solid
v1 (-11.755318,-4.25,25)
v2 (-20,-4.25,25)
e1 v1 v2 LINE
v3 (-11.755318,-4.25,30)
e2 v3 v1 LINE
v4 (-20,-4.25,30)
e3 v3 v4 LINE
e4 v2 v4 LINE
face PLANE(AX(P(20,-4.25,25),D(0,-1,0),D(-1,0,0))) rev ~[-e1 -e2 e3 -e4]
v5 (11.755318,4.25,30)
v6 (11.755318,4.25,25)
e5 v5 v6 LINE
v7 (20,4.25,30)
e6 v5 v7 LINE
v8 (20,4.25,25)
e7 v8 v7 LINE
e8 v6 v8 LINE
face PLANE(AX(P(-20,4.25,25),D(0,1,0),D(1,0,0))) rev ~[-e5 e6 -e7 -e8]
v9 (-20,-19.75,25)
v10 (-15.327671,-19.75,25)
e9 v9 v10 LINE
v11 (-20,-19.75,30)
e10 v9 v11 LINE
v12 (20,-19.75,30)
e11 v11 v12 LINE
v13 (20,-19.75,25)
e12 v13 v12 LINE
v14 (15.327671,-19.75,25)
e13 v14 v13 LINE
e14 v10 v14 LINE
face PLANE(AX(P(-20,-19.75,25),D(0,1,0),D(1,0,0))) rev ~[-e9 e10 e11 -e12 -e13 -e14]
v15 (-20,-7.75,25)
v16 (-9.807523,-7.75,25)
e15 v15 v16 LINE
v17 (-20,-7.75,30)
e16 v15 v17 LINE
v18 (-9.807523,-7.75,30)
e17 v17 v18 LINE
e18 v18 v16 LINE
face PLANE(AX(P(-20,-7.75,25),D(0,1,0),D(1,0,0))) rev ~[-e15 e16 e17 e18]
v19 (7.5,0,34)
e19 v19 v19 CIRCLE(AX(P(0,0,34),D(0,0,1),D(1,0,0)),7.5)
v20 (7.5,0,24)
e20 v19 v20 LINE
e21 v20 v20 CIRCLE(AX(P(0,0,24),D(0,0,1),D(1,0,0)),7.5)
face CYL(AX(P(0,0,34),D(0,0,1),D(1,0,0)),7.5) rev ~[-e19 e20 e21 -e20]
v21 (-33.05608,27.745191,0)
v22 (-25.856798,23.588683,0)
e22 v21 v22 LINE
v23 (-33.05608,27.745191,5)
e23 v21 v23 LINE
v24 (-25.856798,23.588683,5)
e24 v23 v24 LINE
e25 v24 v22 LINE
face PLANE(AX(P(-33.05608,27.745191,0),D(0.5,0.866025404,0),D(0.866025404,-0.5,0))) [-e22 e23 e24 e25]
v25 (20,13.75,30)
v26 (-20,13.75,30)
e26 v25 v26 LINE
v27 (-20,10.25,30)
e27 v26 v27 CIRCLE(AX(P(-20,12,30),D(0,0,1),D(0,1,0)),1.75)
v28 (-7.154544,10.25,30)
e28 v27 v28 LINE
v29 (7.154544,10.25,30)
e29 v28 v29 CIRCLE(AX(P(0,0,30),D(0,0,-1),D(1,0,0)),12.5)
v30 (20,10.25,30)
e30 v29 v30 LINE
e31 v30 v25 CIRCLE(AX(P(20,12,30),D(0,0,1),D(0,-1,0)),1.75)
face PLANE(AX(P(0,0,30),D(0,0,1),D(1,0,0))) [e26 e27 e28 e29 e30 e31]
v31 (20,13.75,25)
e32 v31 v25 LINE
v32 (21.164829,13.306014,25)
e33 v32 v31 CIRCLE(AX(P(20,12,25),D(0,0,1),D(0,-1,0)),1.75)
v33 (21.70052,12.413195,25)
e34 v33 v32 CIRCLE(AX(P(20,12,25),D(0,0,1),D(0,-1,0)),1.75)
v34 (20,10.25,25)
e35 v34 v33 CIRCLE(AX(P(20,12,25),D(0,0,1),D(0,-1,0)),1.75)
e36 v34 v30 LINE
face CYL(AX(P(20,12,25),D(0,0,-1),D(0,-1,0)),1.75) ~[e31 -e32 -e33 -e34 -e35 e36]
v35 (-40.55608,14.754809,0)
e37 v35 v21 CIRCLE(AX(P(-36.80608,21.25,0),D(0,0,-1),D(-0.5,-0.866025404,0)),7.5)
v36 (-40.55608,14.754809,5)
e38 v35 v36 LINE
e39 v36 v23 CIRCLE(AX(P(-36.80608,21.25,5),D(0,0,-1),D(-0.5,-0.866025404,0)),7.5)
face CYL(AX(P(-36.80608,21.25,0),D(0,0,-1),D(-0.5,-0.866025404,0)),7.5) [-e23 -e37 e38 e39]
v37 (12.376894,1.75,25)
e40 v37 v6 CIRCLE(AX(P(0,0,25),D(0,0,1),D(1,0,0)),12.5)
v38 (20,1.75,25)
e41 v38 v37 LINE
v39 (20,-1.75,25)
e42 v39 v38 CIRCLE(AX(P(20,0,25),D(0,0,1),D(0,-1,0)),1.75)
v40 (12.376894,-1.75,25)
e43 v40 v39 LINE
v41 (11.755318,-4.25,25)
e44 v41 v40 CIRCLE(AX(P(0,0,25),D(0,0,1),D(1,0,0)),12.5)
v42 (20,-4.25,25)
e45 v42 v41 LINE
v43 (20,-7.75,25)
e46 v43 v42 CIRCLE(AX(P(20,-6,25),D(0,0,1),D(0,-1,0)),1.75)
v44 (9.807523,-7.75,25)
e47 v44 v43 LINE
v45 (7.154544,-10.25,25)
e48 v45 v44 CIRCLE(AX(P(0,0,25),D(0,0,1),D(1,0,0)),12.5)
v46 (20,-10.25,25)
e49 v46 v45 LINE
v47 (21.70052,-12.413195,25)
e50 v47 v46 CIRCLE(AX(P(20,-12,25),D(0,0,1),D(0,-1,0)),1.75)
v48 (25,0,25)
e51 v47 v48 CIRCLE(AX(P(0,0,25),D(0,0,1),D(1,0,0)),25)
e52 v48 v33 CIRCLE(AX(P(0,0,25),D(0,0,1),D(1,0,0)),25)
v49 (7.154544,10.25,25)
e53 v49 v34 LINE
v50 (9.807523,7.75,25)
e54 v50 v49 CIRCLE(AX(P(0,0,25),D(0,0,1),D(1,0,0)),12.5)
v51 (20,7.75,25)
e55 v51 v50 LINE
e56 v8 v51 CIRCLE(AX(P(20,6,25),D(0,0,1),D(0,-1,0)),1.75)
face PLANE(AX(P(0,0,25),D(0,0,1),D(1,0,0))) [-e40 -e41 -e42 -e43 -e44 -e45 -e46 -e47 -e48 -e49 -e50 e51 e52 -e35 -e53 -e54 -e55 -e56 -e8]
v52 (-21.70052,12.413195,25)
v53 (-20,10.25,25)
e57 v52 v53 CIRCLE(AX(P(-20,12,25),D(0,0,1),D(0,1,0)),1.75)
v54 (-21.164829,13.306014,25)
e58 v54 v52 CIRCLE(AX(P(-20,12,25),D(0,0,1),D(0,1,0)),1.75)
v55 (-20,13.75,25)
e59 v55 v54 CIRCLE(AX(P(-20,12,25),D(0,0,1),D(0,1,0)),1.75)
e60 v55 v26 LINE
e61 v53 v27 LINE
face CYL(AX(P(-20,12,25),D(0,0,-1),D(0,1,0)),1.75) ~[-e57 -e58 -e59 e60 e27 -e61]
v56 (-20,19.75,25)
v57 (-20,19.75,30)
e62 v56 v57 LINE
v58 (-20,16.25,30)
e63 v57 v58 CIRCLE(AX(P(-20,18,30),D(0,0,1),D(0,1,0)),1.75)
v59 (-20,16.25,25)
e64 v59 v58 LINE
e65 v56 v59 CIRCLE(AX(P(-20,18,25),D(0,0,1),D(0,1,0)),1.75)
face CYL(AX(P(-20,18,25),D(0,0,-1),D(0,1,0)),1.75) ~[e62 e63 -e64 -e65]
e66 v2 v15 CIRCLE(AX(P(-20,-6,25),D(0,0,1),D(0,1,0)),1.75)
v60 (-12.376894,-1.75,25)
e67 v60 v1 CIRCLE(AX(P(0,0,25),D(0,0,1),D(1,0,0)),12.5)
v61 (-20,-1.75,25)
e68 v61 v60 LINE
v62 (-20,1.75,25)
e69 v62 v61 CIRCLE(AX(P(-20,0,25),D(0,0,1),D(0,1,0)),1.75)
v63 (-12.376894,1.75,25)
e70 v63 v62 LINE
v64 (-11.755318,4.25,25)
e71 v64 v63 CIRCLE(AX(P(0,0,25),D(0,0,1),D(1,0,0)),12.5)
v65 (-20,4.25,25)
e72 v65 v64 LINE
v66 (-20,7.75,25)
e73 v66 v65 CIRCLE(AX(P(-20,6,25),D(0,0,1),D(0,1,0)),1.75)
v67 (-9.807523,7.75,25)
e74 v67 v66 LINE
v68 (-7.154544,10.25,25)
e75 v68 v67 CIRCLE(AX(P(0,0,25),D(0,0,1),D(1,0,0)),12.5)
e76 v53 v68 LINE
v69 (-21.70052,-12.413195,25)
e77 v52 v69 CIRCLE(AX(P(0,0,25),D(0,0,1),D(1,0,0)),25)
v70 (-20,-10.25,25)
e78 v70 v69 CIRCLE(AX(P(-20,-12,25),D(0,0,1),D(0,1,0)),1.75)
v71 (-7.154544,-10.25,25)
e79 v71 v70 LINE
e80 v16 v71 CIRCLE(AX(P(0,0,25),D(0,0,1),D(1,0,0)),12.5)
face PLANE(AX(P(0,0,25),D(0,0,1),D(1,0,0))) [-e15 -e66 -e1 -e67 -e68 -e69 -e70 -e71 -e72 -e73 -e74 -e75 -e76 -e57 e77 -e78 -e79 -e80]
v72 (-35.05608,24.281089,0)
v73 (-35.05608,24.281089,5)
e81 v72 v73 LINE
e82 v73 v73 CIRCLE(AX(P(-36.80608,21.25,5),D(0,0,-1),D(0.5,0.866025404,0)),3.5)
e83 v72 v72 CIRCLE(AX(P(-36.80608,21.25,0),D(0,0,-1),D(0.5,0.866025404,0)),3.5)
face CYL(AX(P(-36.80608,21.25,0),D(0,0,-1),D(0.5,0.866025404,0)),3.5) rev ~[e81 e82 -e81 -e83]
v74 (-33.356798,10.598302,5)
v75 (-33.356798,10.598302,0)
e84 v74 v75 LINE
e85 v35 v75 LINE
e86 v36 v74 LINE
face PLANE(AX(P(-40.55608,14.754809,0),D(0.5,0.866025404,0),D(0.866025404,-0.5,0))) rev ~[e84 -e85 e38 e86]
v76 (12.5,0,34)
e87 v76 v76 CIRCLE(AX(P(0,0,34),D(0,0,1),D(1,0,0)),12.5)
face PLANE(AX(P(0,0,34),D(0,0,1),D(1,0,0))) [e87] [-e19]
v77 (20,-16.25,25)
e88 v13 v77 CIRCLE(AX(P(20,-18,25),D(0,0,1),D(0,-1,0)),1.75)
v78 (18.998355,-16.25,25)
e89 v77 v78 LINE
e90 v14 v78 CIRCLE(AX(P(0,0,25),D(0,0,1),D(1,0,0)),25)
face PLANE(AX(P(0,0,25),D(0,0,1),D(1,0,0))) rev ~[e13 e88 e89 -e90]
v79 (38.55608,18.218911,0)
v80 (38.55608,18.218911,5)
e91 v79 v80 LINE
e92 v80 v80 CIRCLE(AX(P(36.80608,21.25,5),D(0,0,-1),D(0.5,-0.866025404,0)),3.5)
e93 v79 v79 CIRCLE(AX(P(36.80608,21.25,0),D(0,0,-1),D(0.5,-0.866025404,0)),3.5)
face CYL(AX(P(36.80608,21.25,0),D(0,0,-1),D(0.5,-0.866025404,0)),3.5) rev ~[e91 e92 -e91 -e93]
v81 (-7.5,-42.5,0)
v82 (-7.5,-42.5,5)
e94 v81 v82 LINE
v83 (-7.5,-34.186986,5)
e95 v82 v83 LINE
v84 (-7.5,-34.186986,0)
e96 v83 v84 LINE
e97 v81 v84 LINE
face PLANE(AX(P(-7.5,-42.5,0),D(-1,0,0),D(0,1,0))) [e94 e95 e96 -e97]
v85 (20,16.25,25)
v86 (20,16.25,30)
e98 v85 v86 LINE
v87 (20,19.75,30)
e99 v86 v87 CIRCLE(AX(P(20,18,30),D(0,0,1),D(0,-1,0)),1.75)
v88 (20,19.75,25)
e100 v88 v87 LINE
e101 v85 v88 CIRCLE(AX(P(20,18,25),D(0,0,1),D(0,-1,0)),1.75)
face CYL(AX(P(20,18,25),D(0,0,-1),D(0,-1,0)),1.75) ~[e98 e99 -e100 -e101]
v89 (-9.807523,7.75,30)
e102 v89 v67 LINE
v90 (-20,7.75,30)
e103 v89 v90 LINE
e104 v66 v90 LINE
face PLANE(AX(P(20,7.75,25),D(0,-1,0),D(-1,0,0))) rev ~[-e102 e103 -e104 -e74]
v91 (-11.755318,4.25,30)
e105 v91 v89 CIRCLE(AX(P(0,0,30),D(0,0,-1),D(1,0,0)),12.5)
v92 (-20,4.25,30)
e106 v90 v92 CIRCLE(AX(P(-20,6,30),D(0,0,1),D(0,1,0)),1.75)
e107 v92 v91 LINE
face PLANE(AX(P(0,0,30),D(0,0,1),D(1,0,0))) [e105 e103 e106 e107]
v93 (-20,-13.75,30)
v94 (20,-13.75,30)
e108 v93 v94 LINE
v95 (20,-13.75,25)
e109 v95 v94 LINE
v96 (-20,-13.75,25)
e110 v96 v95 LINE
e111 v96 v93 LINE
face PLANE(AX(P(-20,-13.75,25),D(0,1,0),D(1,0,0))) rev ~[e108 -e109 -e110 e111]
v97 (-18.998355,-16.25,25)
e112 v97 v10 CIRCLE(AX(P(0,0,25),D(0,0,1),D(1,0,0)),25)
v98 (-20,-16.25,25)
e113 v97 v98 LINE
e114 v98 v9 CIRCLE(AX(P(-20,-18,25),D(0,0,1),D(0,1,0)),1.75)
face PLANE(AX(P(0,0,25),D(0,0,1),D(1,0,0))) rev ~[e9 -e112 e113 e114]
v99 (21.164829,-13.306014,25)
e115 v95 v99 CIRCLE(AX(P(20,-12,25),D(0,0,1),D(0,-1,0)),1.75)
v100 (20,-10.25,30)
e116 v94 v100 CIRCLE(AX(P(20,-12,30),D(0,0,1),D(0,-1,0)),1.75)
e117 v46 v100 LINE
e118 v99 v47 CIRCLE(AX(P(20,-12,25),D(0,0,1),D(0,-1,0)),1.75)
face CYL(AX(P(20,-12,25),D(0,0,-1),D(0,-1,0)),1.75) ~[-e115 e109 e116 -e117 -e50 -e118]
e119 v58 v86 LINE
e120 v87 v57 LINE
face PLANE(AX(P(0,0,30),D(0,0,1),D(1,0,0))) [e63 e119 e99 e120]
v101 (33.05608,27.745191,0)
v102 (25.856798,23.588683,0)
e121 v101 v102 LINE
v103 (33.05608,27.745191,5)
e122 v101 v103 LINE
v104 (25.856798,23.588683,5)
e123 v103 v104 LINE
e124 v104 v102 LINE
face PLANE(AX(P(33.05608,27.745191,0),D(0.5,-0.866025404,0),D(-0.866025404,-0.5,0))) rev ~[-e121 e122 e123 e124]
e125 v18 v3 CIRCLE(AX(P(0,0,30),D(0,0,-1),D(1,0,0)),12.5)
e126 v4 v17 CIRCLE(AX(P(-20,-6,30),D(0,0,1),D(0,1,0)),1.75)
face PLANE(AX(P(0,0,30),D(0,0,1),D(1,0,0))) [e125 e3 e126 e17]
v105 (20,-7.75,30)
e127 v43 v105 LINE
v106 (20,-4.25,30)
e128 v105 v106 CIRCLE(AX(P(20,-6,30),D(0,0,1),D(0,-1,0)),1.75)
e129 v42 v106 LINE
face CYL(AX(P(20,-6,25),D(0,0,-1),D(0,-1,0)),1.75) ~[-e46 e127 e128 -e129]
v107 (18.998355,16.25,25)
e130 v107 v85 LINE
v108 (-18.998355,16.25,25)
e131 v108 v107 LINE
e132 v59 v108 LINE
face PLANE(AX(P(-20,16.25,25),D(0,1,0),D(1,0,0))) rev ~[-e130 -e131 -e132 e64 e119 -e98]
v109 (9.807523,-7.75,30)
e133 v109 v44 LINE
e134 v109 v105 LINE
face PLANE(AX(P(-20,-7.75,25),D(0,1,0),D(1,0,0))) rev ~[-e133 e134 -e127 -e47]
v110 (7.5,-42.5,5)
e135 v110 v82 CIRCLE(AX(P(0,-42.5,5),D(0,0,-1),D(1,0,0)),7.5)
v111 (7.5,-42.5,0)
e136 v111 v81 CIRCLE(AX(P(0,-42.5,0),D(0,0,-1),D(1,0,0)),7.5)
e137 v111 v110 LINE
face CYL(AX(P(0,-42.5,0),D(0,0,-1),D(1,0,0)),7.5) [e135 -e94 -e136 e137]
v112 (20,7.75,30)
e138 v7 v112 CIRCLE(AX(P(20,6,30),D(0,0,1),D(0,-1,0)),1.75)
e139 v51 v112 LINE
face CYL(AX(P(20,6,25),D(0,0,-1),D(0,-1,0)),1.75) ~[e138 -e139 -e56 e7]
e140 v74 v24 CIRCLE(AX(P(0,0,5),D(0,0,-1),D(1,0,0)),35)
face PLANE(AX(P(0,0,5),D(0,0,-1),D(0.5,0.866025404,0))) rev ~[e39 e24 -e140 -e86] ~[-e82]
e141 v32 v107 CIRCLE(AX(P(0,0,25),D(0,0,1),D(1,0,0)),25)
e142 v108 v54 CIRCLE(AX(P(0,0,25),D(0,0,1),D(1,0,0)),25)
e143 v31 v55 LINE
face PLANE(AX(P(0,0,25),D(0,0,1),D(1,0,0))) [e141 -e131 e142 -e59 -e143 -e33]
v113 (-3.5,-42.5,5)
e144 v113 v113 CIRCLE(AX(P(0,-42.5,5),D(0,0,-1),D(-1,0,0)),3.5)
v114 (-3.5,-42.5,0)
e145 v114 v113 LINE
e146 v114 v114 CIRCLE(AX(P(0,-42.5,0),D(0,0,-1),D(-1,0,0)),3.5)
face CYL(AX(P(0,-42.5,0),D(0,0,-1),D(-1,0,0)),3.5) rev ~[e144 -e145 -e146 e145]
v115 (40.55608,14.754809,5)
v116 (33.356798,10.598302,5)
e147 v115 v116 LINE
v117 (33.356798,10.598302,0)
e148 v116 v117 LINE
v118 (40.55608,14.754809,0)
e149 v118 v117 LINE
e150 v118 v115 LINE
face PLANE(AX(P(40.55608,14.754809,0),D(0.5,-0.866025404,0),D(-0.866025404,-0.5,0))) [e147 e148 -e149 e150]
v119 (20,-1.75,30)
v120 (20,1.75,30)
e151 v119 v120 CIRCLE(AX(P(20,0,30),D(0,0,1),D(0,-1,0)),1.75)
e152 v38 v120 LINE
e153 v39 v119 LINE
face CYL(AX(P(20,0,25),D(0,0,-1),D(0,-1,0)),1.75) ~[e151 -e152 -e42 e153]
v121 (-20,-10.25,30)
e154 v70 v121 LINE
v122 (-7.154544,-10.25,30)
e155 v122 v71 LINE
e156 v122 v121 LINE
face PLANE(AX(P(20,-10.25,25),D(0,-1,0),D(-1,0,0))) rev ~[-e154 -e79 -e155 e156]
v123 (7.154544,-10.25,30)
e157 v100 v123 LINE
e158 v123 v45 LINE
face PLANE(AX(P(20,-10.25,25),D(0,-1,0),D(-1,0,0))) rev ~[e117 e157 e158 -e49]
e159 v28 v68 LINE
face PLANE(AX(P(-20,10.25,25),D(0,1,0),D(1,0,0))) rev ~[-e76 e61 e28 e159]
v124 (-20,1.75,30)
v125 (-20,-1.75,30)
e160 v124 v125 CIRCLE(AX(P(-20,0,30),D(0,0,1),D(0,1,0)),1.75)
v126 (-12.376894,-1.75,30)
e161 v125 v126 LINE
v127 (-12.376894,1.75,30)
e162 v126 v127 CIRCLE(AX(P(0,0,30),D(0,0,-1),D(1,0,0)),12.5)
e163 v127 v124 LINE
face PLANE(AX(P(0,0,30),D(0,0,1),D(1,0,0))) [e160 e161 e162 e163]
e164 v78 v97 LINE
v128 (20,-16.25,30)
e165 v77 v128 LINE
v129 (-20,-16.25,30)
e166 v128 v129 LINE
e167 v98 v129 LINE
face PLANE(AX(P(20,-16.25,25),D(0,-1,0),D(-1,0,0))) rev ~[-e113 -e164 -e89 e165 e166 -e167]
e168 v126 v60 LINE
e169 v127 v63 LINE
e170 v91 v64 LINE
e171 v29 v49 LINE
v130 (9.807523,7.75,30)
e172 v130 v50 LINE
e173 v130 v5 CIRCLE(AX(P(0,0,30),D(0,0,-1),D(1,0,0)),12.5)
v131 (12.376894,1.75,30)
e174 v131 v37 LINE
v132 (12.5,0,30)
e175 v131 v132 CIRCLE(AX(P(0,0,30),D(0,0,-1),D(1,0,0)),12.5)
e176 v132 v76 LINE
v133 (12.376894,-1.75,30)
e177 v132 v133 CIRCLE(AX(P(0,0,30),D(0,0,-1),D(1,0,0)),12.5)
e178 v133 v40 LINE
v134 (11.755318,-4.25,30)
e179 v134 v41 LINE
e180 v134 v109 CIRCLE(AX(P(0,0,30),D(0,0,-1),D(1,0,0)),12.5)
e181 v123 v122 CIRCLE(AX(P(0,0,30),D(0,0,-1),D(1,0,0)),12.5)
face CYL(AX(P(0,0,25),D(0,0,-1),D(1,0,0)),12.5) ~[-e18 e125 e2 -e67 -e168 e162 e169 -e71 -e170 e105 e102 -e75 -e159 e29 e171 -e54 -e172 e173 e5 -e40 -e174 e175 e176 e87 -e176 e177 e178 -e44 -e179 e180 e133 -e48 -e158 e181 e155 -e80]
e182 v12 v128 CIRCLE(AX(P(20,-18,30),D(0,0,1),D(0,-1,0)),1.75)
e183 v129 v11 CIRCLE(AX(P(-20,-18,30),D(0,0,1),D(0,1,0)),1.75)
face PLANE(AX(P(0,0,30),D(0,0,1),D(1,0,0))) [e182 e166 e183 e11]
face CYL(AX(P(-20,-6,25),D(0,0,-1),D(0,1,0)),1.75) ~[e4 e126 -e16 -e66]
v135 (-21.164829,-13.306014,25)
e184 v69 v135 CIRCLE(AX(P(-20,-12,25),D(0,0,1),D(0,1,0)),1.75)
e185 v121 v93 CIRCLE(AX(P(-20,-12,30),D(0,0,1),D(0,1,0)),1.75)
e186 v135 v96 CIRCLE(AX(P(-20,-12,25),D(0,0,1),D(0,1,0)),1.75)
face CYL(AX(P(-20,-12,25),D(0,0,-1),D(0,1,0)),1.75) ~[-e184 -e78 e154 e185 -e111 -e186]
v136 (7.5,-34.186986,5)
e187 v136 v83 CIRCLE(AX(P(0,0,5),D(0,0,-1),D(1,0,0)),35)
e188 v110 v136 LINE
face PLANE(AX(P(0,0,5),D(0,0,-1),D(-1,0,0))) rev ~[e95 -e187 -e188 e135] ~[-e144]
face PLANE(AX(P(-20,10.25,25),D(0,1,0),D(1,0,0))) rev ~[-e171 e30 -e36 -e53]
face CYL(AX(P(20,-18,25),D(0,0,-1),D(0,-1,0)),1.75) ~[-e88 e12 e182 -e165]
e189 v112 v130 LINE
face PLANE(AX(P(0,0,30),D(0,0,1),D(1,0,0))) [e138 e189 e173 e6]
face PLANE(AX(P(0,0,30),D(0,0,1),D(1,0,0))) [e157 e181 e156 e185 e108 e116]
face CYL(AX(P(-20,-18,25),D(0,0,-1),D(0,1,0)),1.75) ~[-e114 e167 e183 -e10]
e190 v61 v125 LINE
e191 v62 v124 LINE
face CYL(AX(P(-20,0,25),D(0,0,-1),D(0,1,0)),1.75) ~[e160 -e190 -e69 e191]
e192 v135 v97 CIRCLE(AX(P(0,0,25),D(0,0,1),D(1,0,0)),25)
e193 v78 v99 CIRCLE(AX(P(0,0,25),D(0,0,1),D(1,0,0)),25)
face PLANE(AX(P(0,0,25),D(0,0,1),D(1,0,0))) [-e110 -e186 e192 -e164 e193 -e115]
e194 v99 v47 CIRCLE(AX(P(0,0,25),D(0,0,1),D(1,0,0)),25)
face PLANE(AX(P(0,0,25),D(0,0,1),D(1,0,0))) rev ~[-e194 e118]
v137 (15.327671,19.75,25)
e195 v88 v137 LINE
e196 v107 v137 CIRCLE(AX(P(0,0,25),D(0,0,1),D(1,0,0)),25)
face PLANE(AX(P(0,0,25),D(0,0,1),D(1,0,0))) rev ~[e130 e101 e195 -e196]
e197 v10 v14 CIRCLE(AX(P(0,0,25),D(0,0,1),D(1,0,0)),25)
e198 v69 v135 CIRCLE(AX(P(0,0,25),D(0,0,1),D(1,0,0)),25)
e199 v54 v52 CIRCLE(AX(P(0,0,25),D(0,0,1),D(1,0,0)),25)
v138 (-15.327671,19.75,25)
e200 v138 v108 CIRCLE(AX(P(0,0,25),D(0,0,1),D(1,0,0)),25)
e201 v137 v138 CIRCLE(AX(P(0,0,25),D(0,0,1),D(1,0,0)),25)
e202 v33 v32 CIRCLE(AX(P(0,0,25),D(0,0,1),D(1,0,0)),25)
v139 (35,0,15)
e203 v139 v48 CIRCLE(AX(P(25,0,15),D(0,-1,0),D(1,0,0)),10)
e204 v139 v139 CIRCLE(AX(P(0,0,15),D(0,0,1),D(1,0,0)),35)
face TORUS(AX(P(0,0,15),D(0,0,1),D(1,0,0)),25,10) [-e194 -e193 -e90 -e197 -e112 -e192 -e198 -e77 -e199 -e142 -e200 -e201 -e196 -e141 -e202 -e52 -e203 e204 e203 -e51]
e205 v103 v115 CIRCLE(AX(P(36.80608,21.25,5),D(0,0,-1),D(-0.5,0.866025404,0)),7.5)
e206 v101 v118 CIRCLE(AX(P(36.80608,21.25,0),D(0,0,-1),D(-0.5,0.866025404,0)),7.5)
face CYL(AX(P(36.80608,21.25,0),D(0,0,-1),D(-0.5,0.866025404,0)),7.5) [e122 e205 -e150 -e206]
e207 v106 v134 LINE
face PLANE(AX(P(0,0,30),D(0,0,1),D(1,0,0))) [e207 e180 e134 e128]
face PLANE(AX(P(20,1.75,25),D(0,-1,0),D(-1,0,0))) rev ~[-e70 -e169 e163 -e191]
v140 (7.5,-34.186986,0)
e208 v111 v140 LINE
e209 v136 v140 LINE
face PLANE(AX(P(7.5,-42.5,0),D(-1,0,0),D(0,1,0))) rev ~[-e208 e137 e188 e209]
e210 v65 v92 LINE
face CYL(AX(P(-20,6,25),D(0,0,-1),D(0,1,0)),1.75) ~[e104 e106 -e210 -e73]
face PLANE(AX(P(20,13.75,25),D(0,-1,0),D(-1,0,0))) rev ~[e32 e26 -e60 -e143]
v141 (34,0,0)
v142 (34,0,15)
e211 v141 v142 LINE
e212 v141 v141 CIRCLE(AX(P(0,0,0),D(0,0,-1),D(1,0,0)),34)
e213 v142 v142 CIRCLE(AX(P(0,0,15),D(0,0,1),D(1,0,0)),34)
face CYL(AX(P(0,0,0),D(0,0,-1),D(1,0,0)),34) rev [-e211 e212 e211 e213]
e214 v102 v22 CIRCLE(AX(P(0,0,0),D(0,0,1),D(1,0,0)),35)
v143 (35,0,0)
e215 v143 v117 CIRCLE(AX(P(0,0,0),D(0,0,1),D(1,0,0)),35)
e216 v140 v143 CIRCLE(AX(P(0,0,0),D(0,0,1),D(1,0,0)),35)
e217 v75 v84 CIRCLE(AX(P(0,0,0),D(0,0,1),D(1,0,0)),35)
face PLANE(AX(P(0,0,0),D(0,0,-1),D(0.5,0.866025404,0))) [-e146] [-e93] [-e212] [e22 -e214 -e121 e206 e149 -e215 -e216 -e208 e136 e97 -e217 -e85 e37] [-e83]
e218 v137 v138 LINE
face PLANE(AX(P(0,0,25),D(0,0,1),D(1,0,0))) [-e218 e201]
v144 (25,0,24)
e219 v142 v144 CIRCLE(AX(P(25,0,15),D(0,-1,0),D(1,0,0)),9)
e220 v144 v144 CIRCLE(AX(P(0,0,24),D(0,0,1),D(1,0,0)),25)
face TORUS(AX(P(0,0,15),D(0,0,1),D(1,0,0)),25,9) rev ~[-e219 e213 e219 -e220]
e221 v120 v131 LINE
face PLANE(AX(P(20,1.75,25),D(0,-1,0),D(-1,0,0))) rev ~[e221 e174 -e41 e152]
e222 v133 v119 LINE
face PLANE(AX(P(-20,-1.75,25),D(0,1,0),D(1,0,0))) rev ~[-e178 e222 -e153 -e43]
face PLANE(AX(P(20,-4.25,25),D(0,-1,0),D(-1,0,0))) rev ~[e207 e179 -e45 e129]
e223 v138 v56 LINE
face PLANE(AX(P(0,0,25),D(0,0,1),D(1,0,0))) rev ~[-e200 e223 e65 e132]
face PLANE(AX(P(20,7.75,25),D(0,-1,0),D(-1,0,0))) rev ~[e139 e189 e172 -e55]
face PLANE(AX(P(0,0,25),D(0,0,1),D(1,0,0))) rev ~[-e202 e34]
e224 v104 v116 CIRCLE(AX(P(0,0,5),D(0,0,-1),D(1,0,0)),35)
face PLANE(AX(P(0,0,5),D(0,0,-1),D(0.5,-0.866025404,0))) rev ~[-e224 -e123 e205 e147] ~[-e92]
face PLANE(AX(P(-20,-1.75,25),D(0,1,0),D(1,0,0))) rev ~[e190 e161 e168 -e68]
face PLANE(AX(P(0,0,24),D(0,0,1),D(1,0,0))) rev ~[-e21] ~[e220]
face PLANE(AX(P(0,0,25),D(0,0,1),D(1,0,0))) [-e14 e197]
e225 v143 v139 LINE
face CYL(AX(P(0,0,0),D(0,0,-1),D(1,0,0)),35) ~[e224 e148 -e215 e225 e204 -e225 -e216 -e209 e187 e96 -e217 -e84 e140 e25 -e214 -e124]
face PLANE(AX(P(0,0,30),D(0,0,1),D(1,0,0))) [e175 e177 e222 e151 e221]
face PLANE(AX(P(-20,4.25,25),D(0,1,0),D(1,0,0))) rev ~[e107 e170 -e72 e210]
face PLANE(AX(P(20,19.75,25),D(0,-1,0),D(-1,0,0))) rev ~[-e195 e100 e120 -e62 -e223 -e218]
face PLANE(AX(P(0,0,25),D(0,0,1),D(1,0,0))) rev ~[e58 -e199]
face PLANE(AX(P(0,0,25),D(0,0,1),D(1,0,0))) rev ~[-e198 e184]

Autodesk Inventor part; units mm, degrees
ref_plane "YZ Plane" through (0, 0, 0) normal (1, 0, 0) x (0, 1, 0)
ref_plane "XZ Plane" through (0, 0, 0) normal (0, 1, 0) x (-1, 0, 0)
ref_plane "XY Plane" through (0, 0, 0) normal (0, 0, 1) x (1, 0, 0)
sketch "Sketch1" plane through (0, 0, 0) normal (0, 0, 1) x (1, 0, 0)
  circle A0 centre (0, 0) radius 35
  dimension "d0" = 70
extrude "Extrusion1" add sketch "Sketch1" along normal blind 25
fillet "Fillet1" radius 10 1 edges at (-35, 0, 25)
shell "Shell1" thickness 1 removed faces 1 at (-1.9985, 11.019, 0)
sketch "Sketch2" plane through (0, 0, 0) normal (0, 0, -1) x (-1, 0, 0)
  arc A0 (-7.5, -42.5) -> (7.5, -42.5) centre (0, -42.5) ccw
  circle A1 centre (0, -42.5) radius 3.5
  line L0 (7.5, -42.5) -> (7.5, -33.6234)
  line L1 (-7.5, -42.5) -> (-7.5, -33.7627)
  arc A2 (-7.5, -33.7627) -> (7.5, -33.7627) centre (0, -11.6498) ccw
  point P0 (0, 0)
  dimension "d5" = 15
  dimension "d6" = 7
  dimension "d7" = 42.5
extrude "Extrusion2" add sketch "Sketch2" against normal blind 5
pattern_circular "Circular Pattern1" count 3 over 360 about axis through (0, 0, 15) along (0, 0, 1) of "Extrusion2"
sketch "Sketch3" plane through (0, 0, 25) normal (0, 0, 1) x (1, 0, 0)
  line L0 (20, 18) -> (-20, 18) construction
  line L1 (20, 19.75) -> (-20, 19.75)
  line L2 (-20, 16.25) -> (20, 16.25)
  arc A0 (20, 16.25) -> (20, 19.75) centre (20, 18) ccw
  arc A1 (-20, 19.75) -> (-20, 16.25) centre (-20, 18) ccw
  line L3 (0, 42.0299) -> (0, -57.656) construction
  line L4 (20, 12) -> (-20, 12) construction
  line L5 (20, 13.75) -> (-20, 13.75)
  line L6 (-20, 10.25) -> (20, 10.25)
  arc A2 (20, 10.25) -> (20, 13.75) centre (20, 12) ccw
  arc A3 (-20, 13.75) -> (-20, 10.25) centre (-20, 12) ccw
  line L7 (20, 6) -> (-20, 6) construction
  line L8 (20, 7.75) -> (-20, 7.75)
  line L9 (-20, 4.25) -> (20, 4.25)
  arc A4 (20, 4.25) -> (20, 7.75) centre (20, 6) ccw
  arc A5 (-20, 7.75) -> (-20, 4.25) centre (-20, 6) ccw
  line L10 (20, 0) -> (-20, 0) construction
  line L11 (20, 1.75) -> (-20, 1.75)
  line L12 (-20, -1.75) -> (20, -1.75)
  arc A6 (20, -1.75) -> (20, 1.75) centre (20, 0) ccw
  arc A7 (-20, 1.75) -> (-20, -1.75) centre (-20, 0) ccw
  line L13 (20, -6) -> (-20, -6) construction
  line L14 (20, -4.25) -> (-20, -4.25)
  line L15 (-20, -7.75) -> (20, -7.75)
  arc A8 (20, -7.75) -> (20, -4.25) centre (20, -6) ccw
  arc A9 (-20, -4.25) -> (-20, -7.75) centre (-20, -6) ccw
  line L16 (20, -12) -> (-20, -12) construction
  line L17 (20, -10.25) -> (-20, -10.25)
  line L18 (-20, -13.75) -> (20, -13.75)
  arc A10 (20, -13.75) -> (20, -10.25) centre (20, -12) ccw
  arc A11 (-20, -10.25) -> (-20, -13.75) centre (-20, -12) ccw
  line L19 (20, -18) -> (-20, -18) construction
  line L20 (20, -16.25) -> (-20, -16.25)
  line L21 (-20, -19.75) -> (20, -19.75)
  arc A12 (20, -19.75) -> (20, -16.25) centre (20, -18) ccw
  arc A13 (-20, -16.25) -> (-20, -19.75) centre (-20, -18) ccw
  point P0 (0, 0)
  point P1 (0, 18)
  point P2 (0, 12)
  point P3 (0, 6)
  point P4 (0, 0)
  point P5 (0, -6)
  point P6 (0, -12)
  point P7 (0, -18)
  dimension "d13" = 40
  dimension "d14" = 1.75
  dimension "d17" = 18
  dimension "d18" = 20
  dimension "d21" = 6
extrude "Extrusion3" add sketch "Sketch3" along normal blind 5
sketch "Sketch4" plane through (0, 0, 25) normal (0, 0, 1) x (1, 0, 0)
  circle A0 centre (0, 0) radius 12.5
  dimension "d28" = 25
extrude "Extrusion4" add sketch "Sketch4" along normal blind 9
sketch "Sketch5" plane through (0, 0, 34) normal (0, 0, 1) x (1, 0, 0)
  circle A0 centre (0, 0) radius 7.5
  dimension "d31" = 15
extrude "Extrusion5" cut sketch "Sketch5" against normal blind 15
properties part number "Disco do Motor Industrial" material "Copper, Alloy"
